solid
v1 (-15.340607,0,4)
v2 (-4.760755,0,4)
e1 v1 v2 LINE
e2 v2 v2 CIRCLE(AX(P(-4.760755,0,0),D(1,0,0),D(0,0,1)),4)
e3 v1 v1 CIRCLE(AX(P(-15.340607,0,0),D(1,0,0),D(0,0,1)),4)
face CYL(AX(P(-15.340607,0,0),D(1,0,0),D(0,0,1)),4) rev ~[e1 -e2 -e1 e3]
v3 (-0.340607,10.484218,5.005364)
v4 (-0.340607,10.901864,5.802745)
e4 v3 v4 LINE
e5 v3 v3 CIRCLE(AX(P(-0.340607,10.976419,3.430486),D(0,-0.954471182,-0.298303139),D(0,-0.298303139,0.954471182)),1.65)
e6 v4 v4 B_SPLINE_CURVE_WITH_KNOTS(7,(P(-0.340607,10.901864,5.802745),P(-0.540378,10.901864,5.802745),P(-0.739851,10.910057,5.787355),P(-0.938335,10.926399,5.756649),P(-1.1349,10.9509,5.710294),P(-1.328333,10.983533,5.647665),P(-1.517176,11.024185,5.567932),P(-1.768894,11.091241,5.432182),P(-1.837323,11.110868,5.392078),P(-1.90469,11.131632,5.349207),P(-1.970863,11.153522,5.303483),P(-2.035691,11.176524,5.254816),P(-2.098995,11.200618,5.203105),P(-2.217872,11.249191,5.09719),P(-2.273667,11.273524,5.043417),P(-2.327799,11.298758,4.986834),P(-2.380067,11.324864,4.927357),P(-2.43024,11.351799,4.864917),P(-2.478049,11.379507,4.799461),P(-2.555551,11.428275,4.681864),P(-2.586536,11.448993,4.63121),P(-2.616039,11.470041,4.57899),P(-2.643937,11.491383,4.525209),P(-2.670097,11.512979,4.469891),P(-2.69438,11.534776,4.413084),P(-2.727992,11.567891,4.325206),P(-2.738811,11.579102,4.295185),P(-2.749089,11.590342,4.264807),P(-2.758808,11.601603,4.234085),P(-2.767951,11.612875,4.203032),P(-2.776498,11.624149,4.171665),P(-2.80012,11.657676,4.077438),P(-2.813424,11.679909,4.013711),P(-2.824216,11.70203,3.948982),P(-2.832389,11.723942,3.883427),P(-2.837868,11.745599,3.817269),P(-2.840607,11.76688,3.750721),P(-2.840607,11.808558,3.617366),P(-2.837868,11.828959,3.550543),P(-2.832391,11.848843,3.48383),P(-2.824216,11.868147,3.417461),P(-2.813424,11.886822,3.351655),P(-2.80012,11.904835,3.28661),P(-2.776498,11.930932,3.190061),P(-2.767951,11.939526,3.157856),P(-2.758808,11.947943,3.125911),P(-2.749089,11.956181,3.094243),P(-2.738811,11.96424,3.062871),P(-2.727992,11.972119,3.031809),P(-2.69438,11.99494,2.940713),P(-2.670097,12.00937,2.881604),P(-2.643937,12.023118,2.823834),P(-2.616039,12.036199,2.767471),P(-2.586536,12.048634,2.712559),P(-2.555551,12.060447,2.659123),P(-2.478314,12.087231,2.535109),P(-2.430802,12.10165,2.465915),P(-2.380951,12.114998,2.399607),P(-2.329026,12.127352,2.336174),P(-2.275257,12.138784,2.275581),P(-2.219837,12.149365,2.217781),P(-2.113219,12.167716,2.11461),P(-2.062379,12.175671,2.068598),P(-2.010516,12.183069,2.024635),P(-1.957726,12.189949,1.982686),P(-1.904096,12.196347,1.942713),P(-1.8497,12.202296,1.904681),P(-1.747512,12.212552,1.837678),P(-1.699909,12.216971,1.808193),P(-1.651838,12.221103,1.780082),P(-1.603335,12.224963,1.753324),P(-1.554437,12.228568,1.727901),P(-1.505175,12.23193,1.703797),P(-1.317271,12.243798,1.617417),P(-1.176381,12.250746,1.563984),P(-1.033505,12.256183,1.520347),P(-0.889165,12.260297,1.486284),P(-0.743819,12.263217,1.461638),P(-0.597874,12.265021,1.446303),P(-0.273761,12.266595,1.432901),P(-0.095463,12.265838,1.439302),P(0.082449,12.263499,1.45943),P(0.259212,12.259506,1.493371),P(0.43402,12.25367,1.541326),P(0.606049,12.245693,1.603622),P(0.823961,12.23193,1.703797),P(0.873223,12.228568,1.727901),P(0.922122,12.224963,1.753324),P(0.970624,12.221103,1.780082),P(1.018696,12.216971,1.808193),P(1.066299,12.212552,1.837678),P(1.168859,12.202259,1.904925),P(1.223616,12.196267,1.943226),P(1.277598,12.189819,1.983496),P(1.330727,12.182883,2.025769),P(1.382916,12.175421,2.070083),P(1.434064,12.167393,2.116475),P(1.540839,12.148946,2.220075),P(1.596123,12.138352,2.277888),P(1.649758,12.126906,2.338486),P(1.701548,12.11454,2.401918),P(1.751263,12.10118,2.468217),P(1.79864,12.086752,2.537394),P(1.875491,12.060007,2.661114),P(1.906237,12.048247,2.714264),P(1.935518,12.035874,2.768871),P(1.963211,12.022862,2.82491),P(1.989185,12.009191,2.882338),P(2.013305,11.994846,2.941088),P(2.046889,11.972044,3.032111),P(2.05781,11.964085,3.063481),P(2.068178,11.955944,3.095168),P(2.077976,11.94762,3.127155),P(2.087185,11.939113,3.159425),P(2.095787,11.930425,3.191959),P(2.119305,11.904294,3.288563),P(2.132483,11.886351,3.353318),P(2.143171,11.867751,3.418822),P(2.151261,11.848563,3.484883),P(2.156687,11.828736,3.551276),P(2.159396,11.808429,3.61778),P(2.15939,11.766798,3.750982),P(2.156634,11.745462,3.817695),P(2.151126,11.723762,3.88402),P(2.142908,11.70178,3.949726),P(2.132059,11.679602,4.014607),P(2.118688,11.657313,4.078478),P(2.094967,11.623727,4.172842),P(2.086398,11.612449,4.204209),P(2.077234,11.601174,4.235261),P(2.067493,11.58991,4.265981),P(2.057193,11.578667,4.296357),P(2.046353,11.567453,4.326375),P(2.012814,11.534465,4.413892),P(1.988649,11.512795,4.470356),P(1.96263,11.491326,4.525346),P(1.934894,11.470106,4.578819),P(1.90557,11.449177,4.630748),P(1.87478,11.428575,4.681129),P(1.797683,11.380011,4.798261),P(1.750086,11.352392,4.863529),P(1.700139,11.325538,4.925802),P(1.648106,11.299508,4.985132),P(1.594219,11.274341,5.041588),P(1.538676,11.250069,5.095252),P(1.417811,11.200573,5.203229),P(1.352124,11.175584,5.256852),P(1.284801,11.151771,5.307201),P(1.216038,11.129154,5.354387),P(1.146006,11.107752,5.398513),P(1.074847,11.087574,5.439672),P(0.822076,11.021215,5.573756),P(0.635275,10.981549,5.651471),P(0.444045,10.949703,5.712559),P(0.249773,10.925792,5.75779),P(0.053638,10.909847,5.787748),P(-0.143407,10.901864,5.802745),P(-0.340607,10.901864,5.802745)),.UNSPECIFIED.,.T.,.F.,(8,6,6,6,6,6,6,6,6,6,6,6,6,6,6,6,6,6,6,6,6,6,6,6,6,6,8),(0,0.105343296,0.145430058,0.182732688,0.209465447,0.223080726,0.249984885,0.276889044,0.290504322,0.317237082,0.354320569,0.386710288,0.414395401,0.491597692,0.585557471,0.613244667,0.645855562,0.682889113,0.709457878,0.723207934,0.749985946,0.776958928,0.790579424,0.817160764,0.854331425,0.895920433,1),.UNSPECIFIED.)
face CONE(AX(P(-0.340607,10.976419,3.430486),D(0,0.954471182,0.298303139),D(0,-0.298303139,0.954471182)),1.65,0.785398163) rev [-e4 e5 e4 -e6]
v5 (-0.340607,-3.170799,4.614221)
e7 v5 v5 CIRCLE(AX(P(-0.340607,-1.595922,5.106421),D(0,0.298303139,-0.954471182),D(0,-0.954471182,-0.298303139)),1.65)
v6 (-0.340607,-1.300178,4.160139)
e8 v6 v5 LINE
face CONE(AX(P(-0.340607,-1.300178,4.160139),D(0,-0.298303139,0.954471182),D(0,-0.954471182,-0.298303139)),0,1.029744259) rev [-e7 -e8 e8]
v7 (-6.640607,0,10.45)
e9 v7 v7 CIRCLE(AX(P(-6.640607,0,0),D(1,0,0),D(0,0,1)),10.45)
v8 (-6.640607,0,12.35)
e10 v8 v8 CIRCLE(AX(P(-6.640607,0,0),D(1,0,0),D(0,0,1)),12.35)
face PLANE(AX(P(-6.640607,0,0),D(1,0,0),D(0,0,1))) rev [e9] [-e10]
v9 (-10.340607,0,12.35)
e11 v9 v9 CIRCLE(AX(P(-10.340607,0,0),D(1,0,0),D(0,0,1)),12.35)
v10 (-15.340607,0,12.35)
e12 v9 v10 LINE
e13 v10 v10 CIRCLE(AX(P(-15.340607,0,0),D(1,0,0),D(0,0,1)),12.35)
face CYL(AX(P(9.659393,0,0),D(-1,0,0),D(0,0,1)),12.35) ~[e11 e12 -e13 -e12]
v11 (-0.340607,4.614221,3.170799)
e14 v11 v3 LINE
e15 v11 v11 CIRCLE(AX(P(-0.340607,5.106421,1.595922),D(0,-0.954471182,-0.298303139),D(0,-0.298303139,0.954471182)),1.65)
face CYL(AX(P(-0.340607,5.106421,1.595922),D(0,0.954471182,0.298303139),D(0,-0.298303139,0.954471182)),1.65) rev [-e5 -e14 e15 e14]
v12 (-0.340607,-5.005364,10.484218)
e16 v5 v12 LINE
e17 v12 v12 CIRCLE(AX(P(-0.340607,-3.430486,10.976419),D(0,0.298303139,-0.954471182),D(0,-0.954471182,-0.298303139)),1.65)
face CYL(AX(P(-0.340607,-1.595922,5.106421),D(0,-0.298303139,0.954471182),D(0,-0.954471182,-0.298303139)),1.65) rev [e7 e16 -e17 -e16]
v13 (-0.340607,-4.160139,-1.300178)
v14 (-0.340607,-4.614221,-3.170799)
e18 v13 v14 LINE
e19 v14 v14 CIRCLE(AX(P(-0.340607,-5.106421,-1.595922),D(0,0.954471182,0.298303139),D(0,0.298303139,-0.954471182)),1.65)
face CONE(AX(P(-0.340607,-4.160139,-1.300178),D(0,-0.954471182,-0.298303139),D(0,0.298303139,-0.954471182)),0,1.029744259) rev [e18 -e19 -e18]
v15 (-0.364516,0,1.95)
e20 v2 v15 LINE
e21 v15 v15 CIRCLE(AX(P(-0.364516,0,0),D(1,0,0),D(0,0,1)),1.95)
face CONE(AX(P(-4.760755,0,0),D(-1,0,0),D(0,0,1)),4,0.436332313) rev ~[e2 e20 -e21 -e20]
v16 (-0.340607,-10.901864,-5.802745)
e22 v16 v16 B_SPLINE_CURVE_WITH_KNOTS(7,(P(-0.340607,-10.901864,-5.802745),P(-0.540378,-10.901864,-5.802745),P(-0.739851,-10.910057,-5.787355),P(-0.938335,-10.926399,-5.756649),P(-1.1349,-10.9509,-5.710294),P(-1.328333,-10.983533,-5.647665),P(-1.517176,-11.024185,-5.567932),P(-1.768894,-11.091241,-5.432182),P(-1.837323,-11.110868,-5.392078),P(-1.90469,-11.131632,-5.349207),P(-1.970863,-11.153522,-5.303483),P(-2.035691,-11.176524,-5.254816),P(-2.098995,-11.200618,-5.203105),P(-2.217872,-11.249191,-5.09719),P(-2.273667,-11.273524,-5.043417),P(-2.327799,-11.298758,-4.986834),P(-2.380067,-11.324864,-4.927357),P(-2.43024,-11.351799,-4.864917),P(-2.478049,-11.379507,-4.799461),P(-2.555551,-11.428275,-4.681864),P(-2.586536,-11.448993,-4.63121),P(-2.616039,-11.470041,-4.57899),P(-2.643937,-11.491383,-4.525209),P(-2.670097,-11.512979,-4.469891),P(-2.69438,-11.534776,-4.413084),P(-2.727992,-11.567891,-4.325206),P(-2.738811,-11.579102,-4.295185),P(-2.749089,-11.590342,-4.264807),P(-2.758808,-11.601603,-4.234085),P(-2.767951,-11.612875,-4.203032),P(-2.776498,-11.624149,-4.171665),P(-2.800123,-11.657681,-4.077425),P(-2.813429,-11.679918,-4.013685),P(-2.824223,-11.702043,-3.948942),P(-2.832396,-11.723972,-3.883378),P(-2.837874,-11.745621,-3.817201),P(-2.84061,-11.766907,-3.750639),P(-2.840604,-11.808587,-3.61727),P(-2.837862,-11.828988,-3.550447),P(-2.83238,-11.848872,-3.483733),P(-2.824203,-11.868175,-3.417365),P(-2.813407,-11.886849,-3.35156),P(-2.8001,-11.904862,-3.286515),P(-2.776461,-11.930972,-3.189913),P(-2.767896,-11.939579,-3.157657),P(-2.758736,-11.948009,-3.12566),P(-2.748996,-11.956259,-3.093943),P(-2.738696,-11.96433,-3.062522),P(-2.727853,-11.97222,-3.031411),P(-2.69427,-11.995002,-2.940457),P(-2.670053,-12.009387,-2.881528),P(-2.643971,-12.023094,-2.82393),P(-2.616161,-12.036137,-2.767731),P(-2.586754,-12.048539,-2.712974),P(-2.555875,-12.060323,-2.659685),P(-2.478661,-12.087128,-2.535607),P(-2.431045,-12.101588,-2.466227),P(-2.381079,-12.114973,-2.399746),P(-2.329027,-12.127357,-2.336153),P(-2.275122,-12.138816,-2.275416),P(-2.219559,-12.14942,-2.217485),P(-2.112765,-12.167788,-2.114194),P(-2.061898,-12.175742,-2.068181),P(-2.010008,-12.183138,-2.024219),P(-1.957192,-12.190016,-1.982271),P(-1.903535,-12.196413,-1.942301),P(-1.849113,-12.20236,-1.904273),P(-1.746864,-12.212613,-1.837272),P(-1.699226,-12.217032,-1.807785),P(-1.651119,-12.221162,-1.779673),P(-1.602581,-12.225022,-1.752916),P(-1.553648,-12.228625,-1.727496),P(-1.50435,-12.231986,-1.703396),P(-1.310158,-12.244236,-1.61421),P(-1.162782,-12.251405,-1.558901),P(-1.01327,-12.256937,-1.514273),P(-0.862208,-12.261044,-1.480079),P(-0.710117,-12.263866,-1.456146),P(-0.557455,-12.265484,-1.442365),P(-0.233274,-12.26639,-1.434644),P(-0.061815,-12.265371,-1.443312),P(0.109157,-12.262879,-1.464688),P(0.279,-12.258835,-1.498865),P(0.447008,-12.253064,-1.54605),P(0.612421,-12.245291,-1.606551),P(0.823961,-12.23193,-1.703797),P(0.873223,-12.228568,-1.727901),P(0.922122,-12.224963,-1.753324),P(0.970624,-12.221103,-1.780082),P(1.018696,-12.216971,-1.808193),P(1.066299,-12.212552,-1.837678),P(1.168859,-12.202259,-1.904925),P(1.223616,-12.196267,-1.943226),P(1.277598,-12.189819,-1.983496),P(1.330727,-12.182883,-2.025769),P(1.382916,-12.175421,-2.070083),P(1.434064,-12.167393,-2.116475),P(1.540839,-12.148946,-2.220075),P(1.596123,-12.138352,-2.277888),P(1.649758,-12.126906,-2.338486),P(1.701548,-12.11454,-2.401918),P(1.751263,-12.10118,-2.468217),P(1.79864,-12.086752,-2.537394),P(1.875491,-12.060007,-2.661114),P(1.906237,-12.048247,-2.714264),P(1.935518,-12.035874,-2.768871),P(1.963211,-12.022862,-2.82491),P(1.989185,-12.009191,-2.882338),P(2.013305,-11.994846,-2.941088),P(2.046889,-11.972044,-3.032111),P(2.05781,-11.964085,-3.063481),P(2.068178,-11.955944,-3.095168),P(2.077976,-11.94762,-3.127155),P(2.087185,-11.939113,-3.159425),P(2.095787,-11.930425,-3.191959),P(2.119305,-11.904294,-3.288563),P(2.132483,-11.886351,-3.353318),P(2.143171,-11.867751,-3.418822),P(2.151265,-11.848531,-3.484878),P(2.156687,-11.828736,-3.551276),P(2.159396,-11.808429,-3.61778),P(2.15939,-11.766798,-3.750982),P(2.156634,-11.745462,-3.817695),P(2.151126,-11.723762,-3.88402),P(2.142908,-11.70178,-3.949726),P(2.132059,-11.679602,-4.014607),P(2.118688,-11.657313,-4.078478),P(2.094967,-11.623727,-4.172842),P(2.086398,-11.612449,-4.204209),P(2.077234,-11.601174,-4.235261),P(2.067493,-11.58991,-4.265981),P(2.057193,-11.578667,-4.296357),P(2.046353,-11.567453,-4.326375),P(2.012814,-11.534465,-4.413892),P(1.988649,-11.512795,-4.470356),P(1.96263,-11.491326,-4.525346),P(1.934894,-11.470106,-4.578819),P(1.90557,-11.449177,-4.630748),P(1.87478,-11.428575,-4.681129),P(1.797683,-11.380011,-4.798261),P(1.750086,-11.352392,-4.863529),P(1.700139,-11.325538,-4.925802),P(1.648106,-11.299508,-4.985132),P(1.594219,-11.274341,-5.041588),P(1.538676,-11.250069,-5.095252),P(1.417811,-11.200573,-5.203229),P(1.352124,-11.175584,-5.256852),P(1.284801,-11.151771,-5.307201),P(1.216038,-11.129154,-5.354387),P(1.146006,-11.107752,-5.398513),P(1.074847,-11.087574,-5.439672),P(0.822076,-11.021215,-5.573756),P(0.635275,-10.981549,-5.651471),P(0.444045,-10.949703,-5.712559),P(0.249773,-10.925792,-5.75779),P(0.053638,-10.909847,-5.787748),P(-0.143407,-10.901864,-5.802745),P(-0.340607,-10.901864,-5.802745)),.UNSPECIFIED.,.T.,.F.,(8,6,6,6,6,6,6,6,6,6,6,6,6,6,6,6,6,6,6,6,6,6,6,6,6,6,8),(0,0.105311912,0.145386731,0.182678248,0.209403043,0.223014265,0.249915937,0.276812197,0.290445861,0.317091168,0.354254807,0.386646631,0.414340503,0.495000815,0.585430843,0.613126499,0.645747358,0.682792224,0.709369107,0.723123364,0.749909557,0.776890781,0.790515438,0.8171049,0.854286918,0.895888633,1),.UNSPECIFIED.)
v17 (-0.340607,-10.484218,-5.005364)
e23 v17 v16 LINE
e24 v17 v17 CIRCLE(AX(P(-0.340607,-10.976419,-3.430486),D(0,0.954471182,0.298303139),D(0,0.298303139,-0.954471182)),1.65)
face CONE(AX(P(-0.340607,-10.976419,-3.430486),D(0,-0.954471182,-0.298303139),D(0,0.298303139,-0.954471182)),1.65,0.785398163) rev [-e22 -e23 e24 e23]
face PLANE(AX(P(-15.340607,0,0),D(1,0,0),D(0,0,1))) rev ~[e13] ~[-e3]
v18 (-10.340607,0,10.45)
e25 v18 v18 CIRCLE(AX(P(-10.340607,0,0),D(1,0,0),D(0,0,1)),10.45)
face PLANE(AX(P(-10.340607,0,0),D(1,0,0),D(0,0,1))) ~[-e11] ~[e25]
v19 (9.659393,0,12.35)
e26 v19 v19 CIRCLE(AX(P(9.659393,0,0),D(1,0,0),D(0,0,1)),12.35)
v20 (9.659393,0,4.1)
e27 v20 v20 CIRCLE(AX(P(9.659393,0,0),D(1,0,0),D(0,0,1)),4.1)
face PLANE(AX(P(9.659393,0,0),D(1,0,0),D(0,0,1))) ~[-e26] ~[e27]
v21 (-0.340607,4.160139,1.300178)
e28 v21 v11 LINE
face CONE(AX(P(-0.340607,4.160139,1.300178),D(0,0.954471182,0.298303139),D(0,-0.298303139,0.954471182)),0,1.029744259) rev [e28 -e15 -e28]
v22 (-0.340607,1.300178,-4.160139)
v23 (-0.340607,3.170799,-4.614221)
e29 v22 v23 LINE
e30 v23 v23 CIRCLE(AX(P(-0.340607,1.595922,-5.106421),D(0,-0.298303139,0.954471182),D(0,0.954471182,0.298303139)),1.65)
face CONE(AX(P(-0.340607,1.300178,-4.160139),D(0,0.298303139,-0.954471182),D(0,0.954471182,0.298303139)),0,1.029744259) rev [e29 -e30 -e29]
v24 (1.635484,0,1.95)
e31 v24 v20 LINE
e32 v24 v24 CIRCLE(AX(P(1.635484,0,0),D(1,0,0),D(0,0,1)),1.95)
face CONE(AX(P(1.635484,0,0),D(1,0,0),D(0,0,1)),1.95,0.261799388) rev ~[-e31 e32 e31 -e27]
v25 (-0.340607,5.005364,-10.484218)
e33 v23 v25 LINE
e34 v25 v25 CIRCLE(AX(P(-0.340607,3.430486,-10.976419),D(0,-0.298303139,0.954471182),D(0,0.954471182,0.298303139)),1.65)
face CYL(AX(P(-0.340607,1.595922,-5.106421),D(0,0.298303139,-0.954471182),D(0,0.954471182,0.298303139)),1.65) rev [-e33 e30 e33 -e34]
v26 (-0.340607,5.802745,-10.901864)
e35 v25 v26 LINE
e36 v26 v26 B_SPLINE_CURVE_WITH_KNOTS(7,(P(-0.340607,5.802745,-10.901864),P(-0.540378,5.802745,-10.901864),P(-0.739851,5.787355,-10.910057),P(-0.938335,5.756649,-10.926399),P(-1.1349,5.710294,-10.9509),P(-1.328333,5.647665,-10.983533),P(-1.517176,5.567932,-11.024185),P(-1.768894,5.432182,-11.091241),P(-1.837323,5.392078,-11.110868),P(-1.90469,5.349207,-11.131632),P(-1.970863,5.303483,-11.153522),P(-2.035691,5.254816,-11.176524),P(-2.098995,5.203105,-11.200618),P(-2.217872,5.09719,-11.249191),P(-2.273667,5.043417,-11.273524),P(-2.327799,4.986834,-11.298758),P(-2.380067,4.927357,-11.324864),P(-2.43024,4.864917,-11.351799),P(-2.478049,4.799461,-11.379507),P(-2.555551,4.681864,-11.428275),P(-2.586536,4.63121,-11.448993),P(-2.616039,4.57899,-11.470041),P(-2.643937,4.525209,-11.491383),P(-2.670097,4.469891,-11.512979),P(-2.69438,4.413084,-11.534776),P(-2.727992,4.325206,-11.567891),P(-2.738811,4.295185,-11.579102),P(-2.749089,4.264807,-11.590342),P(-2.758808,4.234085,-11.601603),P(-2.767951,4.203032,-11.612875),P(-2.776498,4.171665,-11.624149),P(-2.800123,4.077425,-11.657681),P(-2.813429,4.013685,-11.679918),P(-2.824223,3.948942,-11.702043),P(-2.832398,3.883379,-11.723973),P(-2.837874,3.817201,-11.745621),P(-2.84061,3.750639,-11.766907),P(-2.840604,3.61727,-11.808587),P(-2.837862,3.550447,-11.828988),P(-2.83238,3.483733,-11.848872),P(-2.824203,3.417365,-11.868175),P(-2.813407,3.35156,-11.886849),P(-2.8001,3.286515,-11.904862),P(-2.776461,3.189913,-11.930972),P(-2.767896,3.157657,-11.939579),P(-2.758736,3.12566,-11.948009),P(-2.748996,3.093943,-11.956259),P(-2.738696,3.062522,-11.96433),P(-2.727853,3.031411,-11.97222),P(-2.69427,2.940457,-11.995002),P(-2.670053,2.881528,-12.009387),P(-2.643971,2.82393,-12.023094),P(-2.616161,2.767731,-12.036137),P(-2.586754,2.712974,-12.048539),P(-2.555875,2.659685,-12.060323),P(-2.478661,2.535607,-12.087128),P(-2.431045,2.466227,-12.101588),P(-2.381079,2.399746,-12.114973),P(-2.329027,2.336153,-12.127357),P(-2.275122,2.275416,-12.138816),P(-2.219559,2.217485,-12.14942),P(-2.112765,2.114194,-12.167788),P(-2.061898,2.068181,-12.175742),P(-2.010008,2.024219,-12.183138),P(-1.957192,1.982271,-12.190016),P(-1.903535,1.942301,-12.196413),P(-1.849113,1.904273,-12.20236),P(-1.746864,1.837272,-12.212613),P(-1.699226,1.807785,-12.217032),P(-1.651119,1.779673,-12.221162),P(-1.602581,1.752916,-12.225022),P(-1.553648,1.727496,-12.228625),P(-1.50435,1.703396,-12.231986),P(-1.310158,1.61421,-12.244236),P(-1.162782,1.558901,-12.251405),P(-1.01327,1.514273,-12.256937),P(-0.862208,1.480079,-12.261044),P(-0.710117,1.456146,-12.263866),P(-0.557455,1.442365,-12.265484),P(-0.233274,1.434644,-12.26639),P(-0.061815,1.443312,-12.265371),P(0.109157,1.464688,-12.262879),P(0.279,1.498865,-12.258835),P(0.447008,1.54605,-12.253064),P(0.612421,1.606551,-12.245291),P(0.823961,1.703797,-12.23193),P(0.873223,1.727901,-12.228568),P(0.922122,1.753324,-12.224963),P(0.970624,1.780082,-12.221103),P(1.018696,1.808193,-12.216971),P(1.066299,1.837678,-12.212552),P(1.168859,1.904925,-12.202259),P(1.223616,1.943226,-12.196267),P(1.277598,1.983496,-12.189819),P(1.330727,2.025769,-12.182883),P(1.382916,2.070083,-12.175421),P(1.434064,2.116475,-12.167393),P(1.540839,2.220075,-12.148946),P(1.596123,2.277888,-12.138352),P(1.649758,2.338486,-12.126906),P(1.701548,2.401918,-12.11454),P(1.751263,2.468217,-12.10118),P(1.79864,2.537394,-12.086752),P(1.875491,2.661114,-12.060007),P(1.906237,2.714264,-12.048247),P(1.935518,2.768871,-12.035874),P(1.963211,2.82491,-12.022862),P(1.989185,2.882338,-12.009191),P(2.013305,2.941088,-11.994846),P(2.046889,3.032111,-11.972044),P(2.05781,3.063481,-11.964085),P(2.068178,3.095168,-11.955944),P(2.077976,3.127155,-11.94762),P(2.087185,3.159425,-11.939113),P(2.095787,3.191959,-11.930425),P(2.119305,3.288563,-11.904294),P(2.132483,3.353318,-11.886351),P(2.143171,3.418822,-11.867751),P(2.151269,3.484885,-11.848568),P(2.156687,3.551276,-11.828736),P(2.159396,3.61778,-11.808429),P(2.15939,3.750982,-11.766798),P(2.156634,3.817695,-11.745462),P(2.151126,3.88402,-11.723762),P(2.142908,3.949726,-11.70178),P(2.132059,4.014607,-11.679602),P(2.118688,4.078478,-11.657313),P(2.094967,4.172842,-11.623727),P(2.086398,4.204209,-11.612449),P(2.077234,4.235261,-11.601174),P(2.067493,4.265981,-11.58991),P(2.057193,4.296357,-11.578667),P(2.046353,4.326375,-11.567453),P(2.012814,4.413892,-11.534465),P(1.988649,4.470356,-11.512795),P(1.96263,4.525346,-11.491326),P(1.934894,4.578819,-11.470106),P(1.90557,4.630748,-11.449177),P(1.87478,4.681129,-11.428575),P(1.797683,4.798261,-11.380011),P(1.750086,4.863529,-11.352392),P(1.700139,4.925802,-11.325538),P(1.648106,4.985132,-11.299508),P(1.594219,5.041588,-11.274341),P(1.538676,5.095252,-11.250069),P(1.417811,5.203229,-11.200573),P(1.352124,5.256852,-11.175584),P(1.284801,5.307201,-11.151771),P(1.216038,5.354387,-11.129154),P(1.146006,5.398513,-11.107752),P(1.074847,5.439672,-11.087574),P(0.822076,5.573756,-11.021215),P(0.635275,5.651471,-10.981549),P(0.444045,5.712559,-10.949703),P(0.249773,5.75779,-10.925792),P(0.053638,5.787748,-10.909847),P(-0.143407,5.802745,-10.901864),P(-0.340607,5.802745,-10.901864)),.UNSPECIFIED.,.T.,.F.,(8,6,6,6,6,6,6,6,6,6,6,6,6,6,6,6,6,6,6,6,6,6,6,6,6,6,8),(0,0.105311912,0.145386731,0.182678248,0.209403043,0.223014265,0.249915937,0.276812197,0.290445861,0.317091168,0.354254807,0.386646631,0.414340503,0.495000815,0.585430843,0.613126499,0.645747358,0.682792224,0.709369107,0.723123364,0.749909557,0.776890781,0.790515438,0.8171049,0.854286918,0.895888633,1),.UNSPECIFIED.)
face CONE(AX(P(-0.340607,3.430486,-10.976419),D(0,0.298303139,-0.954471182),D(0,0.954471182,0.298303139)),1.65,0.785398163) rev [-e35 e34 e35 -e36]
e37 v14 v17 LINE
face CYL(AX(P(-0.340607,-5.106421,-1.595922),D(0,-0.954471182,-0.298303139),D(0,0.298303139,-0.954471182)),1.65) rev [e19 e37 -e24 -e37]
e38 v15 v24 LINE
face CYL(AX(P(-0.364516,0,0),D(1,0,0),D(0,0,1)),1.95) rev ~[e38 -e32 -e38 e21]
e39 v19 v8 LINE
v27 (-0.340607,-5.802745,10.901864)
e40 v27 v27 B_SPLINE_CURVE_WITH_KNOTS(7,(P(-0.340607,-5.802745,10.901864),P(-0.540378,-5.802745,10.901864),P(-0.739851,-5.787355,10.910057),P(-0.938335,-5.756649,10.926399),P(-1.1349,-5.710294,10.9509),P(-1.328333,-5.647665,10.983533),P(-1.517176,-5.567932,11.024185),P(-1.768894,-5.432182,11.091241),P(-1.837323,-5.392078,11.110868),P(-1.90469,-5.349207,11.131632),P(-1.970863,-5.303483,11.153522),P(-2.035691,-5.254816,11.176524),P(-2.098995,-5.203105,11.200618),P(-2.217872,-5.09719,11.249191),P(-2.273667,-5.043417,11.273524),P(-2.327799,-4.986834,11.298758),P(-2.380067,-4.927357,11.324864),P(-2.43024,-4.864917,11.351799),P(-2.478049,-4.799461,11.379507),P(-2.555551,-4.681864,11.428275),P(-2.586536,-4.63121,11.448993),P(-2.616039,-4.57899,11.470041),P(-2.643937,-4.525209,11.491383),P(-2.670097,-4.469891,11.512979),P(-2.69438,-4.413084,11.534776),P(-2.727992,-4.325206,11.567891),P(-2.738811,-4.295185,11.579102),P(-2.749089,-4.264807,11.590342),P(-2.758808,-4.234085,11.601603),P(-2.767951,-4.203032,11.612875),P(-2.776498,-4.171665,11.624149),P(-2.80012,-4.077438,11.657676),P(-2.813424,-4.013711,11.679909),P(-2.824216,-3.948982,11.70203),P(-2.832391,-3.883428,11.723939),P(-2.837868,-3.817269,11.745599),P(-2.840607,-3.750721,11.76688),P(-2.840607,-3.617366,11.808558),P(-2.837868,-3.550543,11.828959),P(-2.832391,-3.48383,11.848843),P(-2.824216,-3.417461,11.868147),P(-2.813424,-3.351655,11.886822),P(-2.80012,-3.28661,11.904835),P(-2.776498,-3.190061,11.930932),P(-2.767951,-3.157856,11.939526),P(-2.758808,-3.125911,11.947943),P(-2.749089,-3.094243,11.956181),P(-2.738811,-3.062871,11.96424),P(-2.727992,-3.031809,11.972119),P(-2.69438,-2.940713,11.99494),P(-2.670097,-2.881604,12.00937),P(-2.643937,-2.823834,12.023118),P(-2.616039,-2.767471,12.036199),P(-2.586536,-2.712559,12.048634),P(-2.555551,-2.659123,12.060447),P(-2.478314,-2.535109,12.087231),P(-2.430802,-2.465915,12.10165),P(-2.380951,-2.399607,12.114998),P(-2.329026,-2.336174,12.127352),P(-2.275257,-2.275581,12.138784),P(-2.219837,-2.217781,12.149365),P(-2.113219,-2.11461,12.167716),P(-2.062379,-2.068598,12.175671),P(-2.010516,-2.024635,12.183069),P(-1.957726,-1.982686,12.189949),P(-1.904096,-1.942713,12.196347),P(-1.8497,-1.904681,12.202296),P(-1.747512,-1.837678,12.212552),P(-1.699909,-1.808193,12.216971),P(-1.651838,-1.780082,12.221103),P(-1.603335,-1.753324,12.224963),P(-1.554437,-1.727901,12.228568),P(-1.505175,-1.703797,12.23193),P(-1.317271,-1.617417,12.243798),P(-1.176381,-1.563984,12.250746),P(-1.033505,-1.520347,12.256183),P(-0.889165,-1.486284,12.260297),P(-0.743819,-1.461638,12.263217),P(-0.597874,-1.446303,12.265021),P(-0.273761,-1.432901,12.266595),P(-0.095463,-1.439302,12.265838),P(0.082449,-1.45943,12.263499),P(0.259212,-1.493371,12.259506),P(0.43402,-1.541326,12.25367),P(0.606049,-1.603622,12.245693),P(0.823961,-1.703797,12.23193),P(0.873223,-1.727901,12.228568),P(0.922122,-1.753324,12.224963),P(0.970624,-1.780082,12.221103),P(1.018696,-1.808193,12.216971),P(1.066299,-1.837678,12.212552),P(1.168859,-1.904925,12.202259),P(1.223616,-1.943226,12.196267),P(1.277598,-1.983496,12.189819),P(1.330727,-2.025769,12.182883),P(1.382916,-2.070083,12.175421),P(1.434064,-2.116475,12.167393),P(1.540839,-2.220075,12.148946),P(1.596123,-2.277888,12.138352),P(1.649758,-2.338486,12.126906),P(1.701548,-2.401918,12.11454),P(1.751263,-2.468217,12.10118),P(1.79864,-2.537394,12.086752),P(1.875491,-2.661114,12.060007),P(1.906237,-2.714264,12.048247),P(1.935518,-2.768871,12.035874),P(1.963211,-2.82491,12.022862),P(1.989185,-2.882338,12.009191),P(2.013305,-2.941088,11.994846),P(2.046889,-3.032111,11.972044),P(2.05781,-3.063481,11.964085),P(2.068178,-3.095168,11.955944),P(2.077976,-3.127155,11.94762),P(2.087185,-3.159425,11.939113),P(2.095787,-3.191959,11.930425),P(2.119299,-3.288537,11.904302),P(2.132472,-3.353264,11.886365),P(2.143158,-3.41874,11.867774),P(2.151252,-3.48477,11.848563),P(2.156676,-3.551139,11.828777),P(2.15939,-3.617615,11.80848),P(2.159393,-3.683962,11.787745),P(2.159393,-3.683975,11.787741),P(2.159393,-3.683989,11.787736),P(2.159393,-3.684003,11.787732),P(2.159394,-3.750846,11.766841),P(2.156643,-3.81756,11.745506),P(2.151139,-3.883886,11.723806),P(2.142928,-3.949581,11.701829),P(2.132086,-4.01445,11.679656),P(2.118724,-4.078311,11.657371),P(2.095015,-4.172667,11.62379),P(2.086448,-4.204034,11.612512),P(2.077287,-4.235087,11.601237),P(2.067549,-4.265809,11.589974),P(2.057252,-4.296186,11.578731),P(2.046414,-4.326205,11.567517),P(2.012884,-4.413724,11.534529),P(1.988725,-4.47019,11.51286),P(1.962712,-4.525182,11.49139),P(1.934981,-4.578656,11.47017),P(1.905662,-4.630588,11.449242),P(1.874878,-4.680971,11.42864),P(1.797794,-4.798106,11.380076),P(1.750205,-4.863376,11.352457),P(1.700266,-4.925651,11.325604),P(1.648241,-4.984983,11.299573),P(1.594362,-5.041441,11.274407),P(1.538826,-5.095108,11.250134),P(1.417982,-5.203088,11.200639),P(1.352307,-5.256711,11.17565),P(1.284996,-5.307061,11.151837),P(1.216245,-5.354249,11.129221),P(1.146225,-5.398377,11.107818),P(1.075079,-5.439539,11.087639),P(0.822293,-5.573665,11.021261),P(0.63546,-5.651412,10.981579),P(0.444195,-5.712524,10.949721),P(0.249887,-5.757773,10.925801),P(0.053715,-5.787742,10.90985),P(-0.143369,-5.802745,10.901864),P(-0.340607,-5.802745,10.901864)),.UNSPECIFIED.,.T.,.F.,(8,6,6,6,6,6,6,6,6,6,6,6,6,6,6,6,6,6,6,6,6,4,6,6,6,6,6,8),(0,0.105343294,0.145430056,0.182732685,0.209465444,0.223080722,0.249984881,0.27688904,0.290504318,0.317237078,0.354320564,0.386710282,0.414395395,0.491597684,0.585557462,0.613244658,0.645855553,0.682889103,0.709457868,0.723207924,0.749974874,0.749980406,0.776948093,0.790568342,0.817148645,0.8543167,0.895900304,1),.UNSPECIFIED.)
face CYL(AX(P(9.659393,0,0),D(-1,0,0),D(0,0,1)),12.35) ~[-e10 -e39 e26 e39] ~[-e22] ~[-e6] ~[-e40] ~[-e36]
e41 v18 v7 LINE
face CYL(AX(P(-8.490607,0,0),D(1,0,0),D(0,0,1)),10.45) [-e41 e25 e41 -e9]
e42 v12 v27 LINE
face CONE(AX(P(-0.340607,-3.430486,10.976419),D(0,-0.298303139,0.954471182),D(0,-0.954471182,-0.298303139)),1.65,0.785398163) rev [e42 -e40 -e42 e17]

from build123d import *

# Parameters (mm, degrees)
CIRPATTERN1_COUNT = 4
SKETCH4_W         = 3.7
SKETCH4_H         = 1.9


with BuildPart() as part:
    # Sketch2 → Revolve2 (revolve)
    with BuildSketch(Plane(origin=(0, 0, 0), x_dir=(1, 0, 0), z_dir=(0, 1, 0)), mode=Mode.PRIVATE) as revolve2_sk:
        Polygon((-15.340606893, 4), (-4.760755316, 4), (-0.364516129, 1.95), (1.635483871, 1.95), (9.659393107, 4.1), (9.659393107, 12.35), (-15.340606893, 12.35), align=None)
    revolve(revolve2_sk.sketch.rotate(Axis((-6.793548387, 0, 0), (1, 0, 0)), 180), axis=Axis((-6.793548387, 0, 0), (1, 0, 0)))

    # Sketch3 → M4x0.7 Tapped Hole1 (revolve, cut)
    with BuildSketch(Plane(origin=(-0.340606893, 11.787719099, 3.684043761), x_dir=(0, -0.2983031385746438, 0.9544711821299358), z_dir=(1, 0, 0))):
        Polygon((0, 0), (0, 7.991420021), (1.65, 7), (1.65, 0.85), (2.5, 0), align=None)
    m4x0_7_tapped_hole1 = revolve(axis=Axis((-0.340606893, 17.848611106, 5.578268691), (0, -0.9544711821299356, -0.2983031385746438)), mode=Mode.SUBTRACT)

    # CirPattern1: M4x0.7 Tapped Hole1 ×4 about axis
    cirpattern1_axis = Axis((-6.793548387, 0, 0), (-1, 0, 0))
    for i in range(1, CIRPATTERN1_COUNT):
        add(m4x0_7_tapped_hole1.rotate(cirpattern1_axis, i * 360 / CIRPATTERN1_COUNT), mode=Mode.SUBTRACT)

    # Sketch4 → Cut-Revolve1 (revolve, cut)
    with BuildSketch(Plane(origin=(0, 0, 0), x_dir=(1, 0, 0), z_dir=(0, 1, 0)), mode=Mode.PRIVATE) as cut_revolve1_sk:
        with Locations((-8.490606893, 11.4)):
            Rectangle(SKETCH4_W, SKETCH4_H)
    revolve(cut_revolve1_sk.sketch.rotate(Axis((-15.340606893, 0, 0), (1, 0, 0)), 180), axis=Axis((-15.340606893, 0, 0), (1, 0, 0)), mode=Mode.SUBTRACT)


solid = part.part
